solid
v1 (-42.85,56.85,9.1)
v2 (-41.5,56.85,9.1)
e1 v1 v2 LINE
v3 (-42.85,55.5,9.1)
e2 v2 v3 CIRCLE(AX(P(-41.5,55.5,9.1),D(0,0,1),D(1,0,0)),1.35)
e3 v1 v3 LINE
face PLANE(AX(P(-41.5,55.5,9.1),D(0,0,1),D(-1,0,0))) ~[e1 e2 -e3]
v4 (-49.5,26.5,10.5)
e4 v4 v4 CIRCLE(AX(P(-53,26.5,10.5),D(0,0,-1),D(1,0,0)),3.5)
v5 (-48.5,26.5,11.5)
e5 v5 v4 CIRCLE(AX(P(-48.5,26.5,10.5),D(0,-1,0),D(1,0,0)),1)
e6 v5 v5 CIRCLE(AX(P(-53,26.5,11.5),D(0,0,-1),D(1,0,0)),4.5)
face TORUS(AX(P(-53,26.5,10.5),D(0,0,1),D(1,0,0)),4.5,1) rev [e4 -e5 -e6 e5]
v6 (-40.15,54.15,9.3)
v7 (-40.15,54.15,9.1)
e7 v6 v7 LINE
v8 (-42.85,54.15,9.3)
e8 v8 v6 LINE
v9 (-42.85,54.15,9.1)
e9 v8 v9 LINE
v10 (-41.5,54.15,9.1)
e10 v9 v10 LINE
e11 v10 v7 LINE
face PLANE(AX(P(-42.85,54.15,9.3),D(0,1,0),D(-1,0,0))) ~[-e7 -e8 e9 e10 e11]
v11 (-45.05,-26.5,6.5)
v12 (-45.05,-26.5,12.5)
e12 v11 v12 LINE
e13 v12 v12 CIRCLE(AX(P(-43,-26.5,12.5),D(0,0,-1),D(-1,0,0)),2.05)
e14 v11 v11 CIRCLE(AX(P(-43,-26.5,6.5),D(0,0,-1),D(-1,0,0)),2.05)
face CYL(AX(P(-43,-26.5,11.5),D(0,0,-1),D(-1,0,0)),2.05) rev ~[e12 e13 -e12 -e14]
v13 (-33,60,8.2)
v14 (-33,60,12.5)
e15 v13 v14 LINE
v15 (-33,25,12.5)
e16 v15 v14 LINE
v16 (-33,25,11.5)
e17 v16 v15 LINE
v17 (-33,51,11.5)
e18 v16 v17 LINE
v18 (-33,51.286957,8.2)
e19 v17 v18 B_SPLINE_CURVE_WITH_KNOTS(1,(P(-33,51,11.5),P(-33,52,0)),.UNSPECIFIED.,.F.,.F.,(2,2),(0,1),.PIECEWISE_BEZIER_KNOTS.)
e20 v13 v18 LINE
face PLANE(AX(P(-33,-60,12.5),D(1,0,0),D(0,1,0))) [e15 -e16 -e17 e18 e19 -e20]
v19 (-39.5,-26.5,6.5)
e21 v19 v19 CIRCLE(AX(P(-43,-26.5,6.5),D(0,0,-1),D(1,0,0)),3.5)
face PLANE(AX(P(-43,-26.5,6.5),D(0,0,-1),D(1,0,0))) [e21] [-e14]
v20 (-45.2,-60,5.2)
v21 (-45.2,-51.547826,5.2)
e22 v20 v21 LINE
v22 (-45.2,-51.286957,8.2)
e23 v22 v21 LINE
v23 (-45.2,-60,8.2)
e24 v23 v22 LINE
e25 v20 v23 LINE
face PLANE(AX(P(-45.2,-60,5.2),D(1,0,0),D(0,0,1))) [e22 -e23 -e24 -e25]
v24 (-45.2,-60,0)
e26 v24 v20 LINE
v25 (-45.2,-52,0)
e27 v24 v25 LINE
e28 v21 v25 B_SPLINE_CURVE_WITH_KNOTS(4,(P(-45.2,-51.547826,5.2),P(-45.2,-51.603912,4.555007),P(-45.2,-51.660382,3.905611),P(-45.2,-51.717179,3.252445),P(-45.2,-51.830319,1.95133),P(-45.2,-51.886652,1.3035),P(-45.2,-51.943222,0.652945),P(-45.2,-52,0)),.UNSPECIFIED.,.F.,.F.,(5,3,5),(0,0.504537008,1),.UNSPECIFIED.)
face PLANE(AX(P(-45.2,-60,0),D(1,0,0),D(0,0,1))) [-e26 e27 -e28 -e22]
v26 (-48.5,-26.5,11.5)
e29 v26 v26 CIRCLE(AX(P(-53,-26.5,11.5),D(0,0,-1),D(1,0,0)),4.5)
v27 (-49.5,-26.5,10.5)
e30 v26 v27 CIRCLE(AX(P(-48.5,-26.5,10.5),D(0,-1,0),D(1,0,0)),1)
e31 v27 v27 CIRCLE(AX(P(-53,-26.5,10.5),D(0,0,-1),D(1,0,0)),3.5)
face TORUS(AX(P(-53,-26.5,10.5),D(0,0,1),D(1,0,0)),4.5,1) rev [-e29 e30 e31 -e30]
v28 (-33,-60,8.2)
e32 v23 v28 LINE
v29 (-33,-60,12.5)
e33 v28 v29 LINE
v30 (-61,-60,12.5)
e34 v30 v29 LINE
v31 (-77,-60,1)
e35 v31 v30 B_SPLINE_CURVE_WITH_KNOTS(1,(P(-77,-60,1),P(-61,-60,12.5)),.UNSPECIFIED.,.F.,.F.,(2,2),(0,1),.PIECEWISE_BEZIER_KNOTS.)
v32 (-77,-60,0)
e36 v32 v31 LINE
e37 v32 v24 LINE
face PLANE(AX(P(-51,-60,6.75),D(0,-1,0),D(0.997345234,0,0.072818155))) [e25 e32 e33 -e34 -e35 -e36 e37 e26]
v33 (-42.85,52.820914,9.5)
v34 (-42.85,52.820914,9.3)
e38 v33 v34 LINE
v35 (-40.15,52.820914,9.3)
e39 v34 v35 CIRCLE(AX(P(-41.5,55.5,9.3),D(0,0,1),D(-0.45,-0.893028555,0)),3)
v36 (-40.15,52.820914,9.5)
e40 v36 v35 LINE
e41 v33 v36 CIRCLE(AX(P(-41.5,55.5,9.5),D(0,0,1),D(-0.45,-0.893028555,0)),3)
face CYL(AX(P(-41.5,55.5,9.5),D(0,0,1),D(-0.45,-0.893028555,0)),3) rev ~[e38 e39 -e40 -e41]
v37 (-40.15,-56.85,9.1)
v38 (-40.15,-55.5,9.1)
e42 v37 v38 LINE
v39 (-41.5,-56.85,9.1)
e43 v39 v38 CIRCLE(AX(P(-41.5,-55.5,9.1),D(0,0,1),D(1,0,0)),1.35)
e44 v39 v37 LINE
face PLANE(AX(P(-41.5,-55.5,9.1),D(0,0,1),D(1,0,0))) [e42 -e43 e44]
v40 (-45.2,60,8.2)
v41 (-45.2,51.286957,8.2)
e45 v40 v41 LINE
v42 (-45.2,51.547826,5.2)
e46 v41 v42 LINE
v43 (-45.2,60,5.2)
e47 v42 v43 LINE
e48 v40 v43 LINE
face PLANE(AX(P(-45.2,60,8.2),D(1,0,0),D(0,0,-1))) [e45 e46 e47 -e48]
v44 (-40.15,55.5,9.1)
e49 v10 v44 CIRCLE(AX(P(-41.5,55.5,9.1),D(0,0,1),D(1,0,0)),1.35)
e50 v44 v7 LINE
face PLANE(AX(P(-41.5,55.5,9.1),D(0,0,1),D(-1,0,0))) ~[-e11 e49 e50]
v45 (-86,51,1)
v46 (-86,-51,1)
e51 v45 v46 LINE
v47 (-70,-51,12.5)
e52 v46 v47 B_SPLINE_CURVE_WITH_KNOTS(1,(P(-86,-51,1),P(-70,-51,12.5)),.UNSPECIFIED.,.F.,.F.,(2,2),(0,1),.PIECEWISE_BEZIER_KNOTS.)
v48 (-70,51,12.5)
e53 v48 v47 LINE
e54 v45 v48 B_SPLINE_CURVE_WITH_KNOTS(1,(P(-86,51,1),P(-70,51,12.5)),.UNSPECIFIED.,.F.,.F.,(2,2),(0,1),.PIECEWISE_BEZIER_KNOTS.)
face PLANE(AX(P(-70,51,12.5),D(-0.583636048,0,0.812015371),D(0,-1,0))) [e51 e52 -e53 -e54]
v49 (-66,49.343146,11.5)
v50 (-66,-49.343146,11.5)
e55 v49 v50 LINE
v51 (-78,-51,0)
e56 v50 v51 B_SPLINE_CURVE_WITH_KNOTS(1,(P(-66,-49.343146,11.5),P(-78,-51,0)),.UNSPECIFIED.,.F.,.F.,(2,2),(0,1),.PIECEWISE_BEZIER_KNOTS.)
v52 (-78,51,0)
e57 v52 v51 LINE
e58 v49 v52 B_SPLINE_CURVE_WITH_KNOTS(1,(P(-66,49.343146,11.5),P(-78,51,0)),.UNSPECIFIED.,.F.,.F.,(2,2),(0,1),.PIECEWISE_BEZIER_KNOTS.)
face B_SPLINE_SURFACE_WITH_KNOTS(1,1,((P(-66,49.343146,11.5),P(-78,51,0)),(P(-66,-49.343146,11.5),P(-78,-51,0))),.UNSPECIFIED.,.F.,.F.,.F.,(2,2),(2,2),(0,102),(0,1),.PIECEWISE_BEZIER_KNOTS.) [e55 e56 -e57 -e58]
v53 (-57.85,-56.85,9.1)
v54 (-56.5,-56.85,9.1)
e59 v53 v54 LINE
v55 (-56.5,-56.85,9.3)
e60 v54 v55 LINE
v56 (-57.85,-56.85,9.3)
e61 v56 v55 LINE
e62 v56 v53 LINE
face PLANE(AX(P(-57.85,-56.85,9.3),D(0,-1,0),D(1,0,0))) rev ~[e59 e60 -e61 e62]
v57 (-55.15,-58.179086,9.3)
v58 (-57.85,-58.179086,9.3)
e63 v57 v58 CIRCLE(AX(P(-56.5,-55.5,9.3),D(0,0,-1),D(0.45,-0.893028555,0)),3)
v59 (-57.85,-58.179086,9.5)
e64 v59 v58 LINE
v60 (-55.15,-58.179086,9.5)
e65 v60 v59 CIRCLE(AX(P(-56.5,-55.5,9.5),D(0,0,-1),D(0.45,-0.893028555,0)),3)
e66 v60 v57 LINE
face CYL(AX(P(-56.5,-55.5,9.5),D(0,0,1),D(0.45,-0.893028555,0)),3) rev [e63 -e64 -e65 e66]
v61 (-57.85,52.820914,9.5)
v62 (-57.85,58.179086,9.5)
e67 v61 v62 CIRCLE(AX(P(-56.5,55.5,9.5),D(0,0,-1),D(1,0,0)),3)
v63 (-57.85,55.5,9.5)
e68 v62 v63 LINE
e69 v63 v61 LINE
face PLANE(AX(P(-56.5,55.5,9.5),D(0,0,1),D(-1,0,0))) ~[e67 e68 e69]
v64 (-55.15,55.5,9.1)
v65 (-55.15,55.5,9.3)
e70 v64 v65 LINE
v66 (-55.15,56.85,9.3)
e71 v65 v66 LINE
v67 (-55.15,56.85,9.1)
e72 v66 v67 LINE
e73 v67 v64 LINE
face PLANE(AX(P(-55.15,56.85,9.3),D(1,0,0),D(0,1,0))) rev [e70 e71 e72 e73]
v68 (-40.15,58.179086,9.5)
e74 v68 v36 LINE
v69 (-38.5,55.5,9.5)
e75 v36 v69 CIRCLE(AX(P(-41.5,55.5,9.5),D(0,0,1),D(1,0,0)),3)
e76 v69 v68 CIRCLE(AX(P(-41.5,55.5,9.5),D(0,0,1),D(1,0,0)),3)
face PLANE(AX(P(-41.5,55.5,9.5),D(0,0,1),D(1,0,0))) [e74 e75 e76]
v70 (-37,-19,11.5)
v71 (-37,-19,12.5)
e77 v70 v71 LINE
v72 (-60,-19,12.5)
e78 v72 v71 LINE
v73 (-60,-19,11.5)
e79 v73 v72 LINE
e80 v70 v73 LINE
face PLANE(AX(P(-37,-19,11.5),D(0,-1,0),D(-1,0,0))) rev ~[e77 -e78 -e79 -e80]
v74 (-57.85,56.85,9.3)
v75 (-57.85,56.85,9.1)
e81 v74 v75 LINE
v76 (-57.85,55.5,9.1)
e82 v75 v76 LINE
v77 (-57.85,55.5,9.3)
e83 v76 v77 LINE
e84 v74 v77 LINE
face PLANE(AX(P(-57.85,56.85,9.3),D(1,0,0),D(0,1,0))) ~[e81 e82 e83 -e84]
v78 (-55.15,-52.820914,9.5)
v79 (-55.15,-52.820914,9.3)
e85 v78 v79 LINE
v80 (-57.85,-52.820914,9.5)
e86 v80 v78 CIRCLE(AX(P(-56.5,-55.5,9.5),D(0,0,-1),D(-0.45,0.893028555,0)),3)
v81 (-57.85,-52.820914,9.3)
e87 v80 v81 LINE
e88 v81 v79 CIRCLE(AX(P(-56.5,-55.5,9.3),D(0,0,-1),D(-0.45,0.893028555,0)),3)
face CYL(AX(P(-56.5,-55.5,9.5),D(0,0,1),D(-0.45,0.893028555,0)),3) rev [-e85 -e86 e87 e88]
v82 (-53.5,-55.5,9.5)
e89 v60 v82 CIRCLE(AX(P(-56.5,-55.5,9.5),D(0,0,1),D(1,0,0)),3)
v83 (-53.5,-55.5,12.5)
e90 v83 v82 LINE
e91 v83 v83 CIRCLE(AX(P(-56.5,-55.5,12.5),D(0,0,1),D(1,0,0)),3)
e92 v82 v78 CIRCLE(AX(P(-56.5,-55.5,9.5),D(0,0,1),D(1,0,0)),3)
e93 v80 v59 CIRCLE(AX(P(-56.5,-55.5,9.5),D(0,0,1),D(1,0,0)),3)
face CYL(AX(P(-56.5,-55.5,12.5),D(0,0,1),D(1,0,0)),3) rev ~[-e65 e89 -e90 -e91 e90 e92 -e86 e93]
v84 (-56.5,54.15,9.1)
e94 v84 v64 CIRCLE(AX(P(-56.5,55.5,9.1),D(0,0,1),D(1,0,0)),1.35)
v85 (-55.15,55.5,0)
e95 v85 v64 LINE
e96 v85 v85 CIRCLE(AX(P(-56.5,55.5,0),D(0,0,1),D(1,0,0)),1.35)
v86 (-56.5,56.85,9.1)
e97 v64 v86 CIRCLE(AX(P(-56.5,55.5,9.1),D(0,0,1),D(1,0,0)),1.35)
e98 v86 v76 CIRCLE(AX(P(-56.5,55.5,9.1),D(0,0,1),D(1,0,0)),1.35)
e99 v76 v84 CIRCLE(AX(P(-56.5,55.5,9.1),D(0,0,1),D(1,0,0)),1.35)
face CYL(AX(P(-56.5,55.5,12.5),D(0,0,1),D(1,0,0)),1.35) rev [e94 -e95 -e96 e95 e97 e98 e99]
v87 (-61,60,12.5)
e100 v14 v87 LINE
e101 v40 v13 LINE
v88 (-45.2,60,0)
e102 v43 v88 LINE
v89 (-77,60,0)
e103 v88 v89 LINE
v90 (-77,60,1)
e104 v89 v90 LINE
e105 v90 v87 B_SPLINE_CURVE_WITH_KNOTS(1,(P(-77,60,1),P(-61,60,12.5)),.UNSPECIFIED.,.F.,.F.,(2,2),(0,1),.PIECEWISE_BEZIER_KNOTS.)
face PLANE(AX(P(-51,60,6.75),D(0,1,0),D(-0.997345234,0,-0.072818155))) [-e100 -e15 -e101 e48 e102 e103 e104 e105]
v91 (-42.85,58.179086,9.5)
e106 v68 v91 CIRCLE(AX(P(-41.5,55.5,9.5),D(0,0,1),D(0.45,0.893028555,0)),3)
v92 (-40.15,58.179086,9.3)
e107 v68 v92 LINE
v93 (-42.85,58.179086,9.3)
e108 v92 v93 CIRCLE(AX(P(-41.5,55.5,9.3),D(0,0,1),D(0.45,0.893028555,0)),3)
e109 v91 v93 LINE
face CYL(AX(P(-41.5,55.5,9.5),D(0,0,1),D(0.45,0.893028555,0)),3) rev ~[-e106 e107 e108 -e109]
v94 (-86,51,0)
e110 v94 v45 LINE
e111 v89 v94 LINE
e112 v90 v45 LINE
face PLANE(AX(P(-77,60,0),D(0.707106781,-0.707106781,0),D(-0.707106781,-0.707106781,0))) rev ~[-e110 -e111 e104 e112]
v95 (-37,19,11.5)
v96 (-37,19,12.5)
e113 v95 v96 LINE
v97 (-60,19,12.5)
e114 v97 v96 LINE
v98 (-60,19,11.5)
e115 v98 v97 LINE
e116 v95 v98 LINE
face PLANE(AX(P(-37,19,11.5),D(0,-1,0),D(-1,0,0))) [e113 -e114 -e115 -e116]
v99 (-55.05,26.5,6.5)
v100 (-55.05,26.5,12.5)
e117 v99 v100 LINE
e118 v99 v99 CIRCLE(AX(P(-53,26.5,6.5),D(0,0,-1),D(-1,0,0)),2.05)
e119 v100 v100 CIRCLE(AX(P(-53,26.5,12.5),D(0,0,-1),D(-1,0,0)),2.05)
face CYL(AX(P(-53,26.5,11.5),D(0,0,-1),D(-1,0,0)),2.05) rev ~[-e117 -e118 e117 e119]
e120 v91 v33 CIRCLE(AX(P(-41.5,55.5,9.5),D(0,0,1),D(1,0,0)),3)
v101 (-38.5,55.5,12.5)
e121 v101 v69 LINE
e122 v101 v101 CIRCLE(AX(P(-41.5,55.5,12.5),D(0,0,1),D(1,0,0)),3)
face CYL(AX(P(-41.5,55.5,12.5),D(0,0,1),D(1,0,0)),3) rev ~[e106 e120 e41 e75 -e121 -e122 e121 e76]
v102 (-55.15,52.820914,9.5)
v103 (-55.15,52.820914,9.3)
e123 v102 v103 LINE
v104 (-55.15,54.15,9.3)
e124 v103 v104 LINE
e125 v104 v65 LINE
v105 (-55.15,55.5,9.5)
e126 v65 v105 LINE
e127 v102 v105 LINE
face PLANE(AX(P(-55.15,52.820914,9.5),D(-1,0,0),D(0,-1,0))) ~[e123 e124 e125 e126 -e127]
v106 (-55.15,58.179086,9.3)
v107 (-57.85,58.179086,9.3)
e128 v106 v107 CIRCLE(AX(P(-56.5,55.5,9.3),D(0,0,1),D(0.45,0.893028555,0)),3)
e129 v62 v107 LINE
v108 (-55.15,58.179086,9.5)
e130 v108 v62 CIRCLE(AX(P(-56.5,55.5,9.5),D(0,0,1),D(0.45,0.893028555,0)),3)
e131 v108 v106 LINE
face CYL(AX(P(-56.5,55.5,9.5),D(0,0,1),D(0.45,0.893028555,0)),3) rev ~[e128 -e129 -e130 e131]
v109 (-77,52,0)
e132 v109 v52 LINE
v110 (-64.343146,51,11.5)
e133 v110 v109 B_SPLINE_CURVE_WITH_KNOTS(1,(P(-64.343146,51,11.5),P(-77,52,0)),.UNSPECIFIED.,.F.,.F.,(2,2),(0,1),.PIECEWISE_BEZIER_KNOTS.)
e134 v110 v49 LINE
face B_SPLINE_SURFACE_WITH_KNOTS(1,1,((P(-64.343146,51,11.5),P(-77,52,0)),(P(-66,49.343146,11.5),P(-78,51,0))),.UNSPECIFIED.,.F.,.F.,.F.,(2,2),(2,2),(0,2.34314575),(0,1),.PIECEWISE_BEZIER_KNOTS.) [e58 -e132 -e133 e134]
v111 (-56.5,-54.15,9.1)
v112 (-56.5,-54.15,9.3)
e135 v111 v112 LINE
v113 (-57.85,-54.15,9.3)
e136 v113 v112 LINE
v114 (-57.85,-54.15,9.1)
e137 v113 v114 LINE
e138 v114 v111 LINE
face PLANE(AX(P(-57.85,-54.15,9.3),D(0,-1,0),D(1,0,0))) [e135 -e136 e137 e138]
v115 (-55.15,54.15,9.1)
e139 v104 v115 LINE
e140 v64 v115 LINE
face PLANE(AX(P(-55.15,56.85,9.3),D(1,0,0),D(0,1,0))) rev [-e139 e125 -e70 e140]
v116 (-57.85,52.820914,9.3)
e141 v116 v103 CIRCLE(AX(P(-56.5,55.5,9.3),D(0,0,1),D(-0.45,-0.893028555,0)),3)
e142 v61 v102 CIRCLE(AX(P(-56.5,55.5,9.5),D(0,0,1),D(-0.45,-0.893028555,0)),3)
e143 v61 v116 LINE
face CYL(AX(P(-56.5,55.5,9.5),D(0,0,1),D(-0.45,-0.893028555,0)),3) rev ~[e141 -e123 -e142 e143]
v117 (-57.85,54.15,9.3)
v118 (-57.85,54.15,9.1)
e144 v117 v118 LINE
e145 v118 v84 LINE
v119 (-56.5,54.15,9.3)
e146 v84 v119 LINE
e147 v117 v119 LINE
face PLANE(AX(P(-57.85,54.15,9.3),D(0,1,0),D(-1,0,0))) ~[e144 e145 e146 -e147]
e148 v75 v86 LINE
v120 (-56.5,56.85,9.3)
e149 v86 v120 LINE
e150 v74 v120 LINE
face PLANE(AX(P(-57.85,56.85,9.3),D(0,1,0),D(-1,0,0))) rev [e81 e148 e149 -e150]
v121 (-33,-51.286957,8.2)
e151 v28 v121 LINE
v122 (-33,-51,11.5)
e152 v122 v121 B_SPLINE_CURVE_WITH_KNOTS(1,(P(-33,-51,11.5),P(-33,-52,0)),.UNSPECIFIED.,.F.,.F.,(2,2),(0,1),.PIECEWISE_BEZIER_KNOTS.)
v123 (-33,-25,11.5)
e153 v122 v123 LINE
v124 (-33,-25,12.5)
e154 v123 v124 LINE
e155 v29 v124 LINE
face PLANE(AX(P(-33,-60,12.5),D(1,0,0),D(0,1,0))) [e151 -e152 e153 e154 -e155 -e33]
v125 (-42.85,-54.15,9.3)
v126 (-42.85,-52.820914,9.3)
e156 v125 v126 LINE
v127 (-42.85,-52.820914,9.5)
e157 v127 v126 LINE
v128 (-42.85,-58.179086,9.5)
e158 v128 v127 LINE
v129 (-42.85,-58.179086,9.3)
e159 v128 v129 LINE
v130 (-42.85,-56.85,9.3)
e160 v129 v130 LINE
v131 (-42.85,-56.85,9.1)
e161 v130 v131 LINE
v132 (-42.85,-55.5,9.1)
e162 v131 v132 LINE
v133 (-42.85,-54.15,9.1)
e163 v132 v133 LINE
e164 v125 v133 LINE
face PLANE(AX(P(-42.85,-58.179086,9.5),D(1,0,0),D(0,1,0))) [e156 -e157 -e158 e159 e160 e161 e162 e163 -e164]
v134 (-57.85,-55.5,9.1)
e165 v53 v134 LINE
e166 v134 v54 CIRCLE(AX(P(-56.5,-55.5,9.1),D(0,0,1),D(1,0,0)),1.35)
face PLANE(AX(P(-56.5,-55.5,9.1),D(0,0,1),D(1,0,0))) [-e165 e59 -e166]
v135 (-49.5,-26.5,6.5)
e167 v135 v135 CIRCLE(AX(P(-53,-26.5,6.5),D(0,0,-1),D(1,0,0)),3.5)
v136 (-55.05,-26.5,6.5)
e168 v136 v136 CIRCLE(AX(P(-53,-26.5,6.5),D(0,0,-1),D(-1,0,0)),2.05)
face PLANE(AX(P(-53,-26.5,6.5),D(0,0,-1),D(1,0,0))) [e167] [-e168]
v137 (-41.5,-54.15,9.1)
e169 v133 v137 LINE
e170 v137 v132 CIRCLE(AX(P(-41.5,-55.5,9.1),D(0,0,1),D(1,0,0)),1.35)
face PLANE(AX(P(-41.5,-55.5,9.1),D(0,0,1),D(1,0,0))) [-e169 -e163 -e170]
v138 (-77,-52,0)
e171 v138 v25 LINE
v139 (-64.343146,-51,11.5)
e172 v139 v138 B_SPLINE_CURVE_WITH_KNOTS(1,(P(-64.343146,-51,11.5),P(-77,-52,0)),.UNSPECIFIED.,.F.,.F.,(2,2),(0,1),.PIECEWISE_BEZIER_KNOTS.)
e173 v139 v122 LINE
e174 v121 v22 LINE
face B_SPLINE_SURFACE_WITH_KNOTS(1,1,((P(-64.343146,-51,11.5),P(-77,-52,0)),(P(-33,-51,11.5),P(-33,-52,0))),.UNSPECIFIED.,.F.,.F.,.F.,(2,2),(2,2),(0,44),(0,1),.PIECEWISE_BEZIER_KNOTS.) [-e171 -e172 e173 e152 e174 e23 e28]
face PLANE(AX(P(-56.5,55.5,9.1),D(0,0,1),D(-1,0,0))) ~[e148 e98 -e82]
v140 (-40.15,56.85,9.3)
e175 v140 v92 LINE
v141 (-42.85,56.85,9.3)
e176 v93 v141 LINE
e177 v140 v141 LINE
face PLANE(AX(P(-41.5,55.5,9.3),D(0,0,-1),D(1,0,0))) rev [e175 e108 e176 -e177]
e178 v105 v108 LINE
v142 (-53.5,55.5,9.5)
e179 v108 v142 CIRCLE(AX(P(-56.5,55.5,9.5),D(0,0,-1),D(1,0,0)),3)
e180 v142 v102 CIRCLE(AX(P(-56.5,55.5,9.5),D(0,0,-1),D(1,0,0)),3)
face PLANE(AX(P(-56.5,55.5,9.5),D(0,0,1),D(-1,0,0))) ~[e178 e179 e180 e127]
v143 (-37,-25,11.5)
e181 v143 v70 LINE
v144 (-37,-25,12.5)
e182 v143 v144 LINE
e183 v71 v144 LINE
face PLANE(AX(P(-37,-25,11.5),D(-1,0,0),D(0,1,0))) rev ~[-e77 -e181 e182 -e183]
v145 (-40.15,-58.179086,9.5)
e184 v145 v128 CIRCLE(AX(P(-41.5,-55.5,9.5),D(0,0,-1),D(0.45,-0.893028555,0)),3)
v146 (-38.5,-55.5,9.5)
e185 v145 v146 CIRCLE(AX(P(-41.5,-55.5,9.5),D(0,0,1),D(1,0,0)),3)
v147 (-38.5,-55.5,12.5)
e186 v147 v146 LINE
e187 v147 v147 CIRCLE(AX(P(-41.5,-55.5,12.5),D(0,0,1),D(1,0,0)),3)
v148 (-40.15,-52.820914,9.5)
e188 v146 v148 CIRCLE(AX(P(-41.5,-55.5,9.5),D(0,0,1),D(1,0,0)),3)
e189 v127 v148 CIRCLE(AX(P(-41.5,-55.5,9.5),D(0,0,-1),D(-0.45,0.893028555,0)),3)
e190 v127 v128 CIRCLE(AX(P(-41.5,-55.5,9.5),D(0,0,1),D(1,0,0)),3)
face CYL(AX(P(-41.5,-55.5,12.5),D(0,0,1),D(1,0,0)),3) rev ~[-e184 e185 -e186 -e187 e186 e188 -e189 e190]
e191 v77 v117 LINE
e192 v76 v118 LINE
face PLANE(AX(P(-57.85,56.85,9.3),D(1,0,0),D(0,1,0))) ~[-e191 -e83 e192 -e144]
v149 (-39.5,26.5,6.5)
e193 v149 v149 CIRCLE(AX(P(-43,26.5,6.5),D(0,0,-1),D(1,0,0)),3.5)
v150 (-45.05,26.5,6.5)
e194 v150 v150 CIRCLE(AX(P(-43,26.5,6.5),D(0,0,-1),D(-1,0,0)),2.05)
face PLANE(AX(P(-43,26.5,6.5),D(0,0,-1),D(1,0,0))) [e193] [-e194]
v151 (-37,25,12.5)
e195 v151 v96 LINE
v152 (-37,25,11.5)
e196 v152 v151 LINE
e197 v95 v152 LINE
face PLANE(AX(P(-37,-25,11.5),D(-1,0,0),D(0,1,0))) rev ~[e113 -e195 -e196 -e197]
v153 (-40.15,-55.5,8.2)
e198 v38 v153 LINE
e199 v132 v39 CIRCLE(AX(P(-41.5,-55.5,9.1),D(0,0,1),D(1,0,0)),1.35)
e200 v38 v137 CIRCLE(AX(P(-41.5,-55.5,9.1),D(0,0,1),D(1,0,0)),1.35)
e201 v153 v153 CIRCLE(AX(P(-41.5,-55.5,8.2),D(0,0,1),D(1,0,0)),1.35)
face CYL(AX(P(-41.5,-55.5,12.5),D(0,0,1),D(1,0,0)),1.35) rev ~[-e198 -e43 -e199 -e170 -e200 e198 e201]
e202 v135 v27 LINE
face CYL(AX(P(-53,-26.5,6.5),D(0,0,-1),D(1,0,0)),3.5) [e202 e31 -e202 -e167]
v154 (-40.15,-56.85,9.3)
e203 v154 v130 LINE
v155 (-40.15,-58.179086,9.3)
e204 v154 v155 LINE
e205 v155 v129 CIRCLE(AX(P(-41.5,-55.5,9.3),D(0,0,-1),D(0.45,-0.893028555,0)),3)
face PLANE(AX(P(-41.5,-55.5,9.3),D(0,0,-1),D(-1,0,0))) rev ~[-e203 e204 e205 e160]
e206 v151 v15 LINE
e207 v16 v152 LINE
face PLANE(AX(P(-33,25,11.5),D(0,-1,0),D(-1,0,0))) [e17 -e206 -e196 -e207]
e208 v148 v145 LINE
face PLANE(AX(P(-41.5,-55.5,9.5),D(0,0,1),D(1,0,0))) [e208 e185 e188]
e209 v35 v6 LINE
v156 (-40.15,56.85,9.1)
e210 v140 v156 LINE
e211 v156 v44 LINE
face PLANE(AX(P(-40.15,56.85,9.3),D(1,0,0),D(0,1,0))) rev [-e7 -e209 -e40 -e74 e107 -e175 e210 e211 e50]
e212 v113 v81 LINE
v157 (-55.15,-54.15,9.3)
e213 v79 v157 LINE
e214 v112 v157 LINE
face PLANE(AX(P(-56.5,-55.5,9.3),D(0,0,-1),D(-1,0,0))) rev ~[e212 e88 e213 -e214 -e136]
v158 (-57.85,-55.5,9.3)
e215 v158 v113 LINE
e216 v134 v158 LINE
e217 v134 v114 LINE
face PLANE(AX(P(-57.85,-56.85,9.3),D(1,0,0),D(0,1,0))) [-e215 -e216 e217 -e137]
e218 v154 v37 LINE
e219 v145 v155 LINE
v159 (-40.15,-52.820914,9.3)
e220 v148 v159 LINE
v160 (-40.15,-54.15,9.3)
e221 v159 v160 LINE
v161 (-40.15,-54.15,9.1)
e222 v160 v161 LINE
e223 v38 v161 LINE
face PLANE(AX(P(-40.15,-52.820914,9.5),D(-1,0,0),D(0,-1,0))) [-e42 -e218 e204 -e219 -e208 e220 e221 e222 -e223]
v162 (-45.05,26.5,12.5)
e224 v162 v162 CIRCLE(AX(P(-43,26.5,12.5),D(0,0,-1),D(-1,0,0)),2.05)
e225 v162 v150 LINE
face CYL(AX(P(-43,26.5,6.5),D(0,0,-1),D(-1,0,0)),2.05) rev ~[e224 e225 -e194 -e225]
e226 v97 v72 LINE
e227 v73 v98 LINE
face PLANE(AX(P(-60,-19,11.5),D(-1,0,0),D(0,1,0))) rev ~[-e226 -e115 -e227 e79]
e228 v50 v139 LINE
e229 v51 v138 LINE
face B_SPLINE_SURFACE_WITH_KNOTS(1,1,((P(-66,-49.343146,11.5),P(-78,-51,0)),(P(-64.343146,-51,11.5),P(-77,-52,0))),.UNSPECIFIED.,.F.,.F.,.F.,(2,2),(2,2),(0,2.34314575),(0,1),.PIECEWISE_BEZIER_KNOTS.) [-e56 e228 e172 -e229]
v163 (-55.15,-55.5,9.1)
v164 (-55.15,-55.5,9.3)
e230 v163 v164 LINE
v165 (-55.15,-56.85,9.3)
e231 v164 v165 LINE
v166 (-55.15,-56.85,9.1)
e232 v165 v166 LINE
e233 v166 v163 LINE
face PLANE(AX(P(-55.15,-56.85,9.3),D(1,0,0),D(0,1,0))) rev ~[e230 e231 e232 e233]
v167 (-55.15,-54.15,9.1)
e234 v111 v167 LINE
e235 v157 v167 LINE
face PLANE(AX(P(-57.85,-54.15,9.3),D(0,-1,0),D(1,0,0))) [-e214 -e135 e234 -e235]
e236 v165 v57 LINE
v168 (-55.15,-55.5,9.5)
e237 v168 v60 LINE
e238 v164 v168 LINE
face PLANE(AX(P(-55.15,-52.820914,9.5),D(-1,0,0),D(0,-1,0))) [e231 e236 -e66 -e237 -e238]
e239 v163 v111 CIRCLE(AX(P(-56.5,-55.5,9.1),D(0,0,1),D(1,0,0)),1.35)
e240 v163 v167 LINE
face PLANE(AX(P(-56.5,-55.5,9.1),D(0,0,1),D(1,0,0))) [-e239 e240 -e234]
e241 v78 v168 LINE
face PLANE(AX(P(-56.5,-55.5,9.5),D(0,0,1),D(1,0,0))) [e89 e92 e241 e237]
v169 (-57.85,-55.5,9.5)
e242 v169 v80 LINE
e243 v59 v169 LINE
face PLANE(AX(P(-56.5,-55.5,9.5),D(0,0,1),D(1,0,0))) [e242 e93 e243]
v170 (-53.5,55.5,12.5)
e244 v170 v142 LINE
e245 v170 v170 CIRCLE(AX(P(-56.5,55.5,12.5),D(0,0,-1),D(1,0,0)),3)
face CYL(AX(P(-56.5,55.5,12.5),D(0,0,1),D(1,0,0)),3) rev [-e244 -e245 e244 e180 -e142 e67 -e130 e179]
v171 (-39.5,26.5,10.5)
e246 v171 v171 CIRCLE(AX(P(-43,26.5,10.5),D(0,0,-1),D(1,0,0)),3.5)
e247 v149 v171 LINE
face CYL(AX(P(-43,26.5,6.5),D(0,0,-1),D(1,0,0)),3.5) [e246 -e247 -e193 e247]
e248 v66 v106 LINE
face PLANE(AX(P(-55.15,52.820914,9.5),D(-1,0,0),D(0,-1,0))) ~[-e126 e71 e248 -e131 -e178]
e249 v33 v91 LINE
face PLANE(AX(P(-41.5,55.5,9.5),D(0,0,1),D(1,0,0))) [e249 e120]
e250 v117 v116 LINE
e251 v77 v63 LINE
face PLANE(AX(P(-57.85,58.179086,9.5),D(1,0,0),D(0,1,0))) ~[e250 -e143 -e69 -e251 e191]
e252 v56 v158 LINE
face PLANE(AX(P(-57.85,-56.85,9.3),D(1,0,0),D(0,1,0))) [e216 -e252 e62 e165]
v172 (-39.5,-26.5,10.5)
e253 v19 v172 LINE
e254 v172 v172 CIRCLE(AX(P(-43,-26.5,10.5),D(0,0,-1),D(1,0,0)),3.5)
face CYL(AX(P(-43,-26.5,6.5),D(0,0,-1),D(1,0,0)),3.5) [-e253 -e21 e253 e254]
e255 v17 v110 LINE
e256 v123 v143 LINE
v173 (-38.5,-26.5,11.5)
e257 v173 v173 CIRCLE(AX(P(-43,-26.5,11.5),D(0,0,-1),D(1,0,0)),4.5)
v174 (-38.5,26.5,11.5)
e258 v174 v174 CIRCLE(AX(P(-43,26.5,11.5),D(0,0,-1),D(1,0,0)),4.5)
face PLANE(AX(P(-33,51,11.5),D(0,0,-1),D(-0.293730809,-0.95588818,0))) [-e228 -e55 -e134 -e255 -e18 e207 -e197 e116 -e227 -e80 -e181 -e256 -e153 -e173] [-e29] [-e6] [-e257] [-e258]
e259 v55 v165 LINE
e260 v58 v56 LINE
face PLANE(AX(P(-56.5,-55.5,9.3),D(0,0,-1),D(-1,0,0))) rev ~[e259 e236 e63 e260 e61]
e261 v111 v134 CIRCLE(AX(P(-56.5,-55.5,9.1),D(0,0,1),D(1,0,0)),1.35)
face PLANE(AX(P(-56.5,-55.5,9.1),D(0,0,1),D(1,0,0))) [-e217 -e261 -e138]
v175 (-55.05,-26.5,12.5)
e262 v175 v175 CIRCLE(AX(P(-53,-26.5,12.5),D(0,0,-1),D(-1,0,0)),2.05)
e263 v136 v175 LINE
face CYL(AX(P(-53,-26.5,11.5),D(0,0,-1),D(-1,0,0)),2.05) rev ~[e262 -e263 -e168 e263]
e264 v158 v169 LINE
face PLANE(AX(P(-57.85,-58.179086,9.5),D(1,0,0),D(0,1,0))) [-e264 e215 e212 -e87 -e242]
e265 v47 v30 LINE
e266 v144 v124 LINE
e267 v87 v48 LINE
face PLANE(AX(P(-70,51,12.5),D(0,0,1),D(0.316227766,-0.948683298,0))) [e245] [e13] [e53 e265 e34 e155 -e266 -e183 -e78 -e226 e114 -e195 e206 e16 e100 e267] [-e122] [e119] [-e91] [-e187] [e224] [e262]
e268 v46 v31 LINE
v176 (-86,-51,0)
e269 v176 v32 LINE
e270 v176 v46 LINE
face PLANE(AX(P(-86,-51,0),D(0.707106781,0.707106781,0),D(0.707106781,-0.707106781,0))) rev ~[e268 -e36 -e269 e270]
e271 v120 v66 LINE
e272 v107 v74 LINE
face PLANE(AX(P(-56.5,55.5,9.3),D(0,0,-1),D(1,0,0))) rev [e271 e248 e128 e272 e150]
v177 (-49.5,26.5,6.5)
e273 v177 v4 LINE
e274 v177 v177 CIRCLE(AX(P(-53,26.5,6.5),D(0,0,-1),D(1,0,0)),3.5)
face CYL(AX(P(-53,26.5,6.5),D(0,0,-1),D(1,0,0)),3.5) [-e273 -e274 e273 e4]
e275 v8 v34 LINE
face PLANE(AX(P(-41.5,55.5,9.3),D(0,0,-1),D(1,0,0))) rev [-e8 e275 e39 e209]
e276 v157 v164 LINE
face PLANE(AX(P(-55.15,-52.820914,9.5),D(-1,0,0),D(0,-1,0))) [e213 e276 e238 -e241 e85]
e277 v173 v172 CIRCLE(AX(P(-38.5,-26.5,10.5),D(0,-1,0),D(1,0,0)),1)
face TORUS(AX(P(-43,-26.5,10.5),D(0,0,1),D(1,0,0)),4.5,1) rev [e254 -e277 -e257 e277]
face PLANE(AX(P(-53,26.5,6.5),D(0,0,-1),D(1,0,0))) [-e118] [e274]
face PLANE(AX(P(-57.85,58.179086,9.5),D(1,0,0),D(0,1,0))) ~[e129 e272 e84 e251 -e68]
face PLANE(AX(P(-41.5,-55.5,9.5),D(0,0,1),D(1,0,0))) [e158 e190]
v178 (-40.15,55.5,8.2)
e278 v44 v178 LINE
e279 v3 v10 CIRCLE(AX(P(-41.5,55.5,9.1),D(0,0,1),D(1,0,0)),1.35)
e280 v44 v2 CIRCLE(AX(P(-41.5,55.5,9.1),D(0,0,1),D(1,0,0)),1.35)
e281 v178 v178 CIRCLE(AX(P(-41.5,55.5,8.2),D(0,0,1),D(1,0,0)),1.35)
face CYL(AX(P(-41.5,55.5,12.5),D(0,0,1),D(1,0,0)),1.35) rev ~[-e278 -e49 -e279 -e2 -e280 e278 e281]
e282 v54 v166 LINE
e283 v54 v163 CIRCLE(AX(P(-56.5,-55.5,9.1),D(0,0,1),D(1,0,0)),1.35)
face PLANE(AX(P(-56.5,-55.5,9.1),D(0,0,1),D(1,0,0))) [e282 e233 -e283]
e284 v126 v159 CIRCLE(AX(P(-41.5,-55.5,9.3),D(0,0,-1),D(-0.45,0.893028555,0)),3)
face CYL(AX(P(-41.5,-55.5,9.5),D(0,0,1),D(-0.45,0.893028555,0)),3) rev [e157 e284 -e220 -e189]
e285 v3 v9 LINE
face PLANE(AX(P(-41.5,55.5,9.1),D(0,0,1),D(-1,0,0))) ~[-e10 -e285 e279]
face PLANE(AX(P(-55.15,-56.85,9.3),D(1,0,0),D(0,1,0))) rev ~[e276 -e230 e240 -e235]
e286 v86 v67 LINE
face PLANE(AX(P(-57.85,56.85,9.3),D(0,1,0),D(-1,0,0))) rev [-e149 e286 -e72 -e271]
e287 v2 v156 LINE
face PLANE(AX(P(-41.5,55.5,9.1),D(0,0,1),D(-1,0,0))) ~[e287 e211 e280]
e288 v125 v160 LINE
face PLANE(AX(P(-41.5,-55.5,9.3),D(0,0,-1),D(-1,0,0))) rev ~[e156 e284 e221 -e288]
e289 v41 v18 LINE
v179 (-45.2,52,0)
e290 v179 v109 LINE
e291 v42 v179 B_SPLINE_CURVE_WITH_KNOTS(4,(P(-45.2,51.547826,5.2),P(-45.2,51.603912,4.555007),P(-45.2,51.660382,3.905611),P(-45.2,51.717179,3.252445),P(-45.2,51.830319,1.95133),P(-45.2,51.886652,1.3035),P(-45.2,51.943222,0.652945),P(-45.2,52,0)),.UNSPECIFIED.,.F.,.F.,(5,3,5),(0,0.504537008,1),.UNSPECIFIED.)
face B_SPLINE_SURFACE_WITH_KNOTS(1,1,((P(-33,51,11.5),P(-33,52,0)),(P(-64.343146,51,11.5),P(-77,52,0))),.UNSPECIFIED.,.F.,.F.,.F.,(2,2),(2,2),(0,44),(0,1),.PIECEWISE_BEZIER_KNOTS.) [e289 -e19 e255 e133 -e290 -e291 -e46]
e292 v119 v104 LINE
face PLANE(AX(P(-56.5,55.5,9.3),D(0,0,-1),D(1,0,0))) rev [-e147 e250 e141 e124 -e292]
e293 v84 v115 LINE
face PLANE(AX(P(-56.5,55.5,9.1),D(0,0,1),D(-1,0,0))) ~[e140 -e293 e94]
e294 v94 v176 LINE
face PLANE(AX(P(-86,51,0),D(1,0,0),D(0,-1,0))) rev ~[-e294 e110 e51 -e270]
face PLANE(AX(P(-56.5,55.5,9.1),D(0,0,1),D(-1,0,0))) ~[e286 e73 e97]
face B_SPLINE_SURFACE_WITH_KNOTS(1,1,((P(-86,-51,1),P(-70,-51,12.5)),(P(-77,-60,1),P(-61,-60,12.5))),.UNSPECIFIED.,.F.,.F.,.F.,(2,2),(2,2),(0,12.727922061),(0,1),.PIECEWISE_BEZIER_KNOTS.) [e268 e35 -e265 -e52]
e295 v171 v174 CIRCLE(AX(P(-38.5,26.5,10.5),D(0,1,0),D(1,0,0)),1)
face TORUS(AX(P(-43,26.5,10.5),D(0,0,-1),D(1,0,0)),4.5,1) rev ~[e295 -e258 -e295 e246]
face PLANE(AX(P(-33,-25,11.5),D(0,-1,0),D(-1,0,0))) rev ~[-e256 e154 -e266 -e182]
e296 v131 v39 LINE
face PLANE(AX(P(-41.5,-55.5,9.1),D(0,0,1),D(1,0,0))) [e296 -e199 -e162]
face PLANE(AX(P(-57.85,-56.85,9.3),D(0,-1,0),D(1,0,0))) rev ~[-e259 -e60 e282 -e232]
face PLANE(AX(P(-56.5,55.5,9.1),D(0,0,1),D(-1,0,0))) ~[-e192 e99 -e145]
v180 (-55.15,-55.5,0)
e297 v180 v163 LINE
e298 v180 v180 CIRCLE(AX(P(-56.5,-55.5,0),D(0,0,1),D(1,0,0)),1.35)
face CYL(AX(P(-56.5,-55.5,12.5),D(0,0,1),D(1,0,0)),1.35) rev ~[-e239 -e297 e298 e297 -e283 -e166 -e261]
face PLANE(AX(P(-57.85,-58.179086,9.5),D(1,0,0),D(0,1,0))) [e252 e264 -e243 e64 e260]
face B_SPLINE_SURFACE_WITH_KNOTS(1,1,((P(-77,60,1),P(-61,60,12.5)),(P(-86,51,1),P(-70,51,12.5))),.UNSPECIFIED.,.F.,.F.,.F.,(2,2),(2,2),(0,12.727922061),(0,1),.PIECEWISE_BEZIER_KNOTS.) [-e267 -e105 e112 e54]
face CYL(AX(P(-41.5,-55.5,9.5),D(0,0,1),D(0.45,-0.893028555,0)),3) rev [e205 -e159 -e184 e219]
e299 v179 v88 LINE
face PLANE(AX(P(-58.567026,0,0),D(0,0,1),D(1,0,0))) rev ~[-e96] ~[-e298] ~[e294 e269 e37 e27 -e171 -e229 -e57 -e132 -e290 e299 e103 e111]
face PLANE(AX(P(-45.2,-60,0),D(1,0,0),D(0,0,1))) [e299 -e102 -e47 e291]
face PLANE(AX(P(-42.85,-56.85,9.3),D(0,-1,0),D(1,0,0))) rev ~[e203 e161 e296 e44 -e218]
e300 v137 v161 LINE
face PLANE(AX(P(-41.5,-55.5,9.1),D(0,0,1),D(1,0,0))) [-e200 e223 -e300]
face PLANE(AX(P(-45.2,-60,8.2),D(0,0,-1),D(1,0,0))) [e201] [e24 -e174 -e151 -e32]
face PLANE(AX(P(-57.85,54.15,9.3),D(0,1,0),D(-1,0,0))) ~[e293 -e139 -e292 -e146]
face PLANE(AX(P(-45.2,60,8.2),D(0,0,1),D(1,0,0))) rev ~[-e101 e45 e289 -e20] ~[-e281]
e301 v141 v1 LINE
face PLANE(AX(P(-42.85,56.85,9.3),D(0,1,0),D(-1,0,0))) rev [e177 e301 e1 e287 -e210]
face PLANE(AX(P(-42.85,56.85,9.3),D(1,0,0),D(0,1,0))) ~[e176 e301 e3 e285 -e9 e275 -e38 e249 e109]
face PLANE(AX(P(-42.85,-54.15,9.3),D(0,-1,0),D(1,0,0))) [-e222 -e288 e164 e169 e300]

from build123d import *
from build123d.topology import SkipClean

# Parameters (mm, degrees)
BOSS_EXTRUDE1_DEPTH = 1
SKETCH7_W           = 4
SKETCH7_H           = 50
CUT_EXTRUDE1_DEPTH  = 106.49052105
SKETCH8_W           = 12.2
SKETCH8_H           = 5.2
CUT_EXTRUDE2_DEPTH  = 149.162917235
SKETCH9_R           = 1.35
CUT_EXTRUDE3_DEPTH  = 106.604214081
SKETCH10_R          = 3
CUT_EXTRUDE4_DEPTH  = 3
CUT_EXTRUDE8_DEPTH  = 0.2
SKETCH15_W          = 2.7
SKETCH15_H          = 2.7
CUT_EXTRUDE9_DEPTH  = 0.2
SKETCH16_R          = 2.05
CUT_EXTRUDE10_DEPTH = 106.49052105
BOSS_EXTRUDE2_START = 5
SKETCH17_R          = 3.5
SKETCH17_R_2        = 2.05
BOSS_EXTRUDE2_DEPTH = 5
FILLET1_R           = 1
SKETCH18_W          = 5
SKETCH18_H          = 22
CUT_EXTRUDE11_DEPTH = 106.49052105
CUT_EXTRUDE12_REACH = 150.163
SKETCH19_W          = 12.2
SKETCH19_H          = 3
CUT_EXTRUDE13_REACH = 150.163
SKETCH20_W          = 12.2
SKETCH20_H          = 3
SKETCH23_R          = 1.35
CUT_EXTRUDE14_DEPTH = 106.604214081
SKETCH24_R          = 3
CUT_EXTRUDE15_DEPTH = 3
CUT_EXTRUDE16_DEPTH = 0.2
SKETCH26_W          = 2.7
SKETCH26_H          = 2.7
CUT_EXTRUDE17_DEPTH = 0.2
SKETCH27_W          = 23
SKETCH27_H          = 38
CUT_EXTRUDE18_DEPTH = 106.49052105


with BuildPart() as part:
    # Sketch2 → Boss-Extrude1 (new body)
    with BuildSketch(Plane.XY):
        Polygon((-86, -51), (-77, -60), (-33, -60), (-33, 60), (-77, 60), (-86, 51), align=None)
    extrude(amount=BOSS_EXTRUDE1_DEPTH)

    # Sketch4 → Loft1 section 0
    with BuildSketch(Plane.XY.offset(1)):
        with BuildLine():
            Line((-86, 51), (-86, -51))
            Line((-86, -51), (-77, -60))
            Line((-77, -60), (-33, -60))
            Line((-33, -60), (-33, 60))
            Line((-33, 60), (-77, 60))
            Line((-77, 60), (-86, 51))
        make_face()
    # Sketch3 → Loft1 section 1
    with BuildSketch(Plane.XY.offset(12.5)):
        with BuildLine():
            Line((-33, 60), (-61, 60))
            Line((-61, 60), (-70, 51))
            Line((-70, 51), (-70, -51))
            Line((-70, -51), (-61, -60))
            Line((-61, -60), (-33, -60))
            Line((-33, -60), (-33, 60))
        make_face()
    loft()

    # Sketch6 → Cut-Loft1 section 0
    with BuildSketch(Plane.XY.offset(11.5)):
        with BuildLine():
            Line((-33, 51), (-64.343145751, 51))
            Line((-64.343145751, 51), (-66, 49.343145751))
            Line((-66, 49.343145751), (-66, -49.343145751))
            Line((-66, -49.343145751), (-64.343145751, -51))
            Line((-64.343145751, -51), (-33, -51))
            Line((-33, -51), (-33, 51))
        make_face()
    # Sketch5 → Cut-Loft1 section 1
    with BuildSketch(Plane(origin=(0, 0, 0), x_dir=(-1, 0, 0), z_dir=(0, 0, -1))):
        with BuildLine():
            Line((33, 52), (77, 52))
            Line((77, 52), (78, 51))
            Line((78, 51), (78, -51))
            Line((78, -51), (77, -52))
            Line((77, -52), (33, -52))
            Line((33, -52), (33, 52))
        make_face()
    loft(mode=Mode.SUBTRACT)

    # Sketch7 → Cut-Extrude1 (cut, through all)
    with BuildSketch(Plane(origin=(0, 0, 11.5), x_dir=(-1, 0, 0), z_dir=(0, 0, -1))):
        with Locations((35, 0)):
            Rectangle(SKETCH7_W, SKETCH7_H)
    extrude(amount=-CUT_EXTRUDE1_DEPTH, mode=Mode.SUBTRACT)

    # Sketch8 → Cut-Extrude2 (cut, through all)
    with BuildSketch(Plane.XZ.offset(60)):
        with Locations((-39.1, 2.6)):
            Rectangle(SKETCH8_W, SKETCH8_H)
    extrude(amount=-CUT_EXTRUDE2_DEPTH, mode=Mode.SUBTRACT)

    # Sketch9 → Cut-Extrude3 (cut, through all)
    with BuildSketch(Plane.XY.offset(12.5)):
        with Locations((-41.5, 55.5)):
            Circle(SKETCH9_R)
        with Locations((-41.5, -55.5)):
            Circle(SKETCH9_R)
    extrude(amount=-CUT_EXTRUDE3_DEPTH, mode=Mode.SUBTRACT)

    # Sketch10 → Cut-Extrude4 (cut)
    with BuildSketch(Plane.XY.offset(12.5)):
        with Locations((-41.5, 55.5)):
            Circle(SKETCH10_R)
        with Locations((-41.5, -55.5)):
            Circle(SKETCH10_R)
    extrude(amount=-CUT_EXTRUDE4_DEPTH, mode=Mode.SUBTRACT)

    # Sketch14 → Cut-Extrude8 (cut)
    with SkipClean():  # the faces are left unmerged after this step: merging them gives an invalid solid
        with BuildSketch(Plane.XY.offset(9.5)):
            with BuildLine():
                Line((-42.85, -58.179085665), (-42.85, -52.820914335))
                ThreePointArc((-42.85, -52.820914335), (-41.5, -52.5), (-40.15, -52.820914335))
                Line((-40.15, -52.820914335), (-40.15, -58.179085665))
                ThreePointArc((-40.15, -58.179085665), (-41.5, -58.5), (-42.85, -58.179085665))
            make_face()
        cut_extrude8 = extrude(amount=-CUT_EXTRUDE8_DEPTH, mode=Mode.SUBTRACT)

    # Sketch15 → Cut-Extrude9 (cut)
    with SkipClean():  # the faces are left unmerged after this step: merging them gives an invalid solid
        with BuildSketch(Plane.XY.offset(9.3)):
            with Locations((-41.5, -55.5)):
                Rectangle(SKETCH15_W, SKETCH15_H)
        cut_extrude9 = extrude(amount=-CUT_EXTRUDE9_DEPTH, mode=Mode.SUBTRACT)

    # Mirror1: Cut-Extrude8, Cut-Extrude9 across plane
    with SkipClean():  # the faces are left unmerged after this step: merging them gives an invalid solid
        add(cut_extrude8.mirror(Plane.ZX), mode=Mode.SUBTRACT)
        add(cut_extrude9.mirror(Plane.ZX), mode=Mode.SUBTRACT)

    # Sketch16 → Cut-Extrude10 (cut, through all)
    with SkipClean():  # the faces are left unmerged after this step: merging them gives an invalid solid
        with BuildSketch(Plane(origin=(0, 0, 11.5), x_dir=(-1, 0, 0), z_dir=(0, 0, -1))):
            with Locations((43, 26.5)):
                Circle(SKETCH16_R)
            with Locations((53, 26.5)):
                Circle(SKETCH16_R)
            with Locations((53, -26.5)):
                Circle(SKETCH16_R)
            with Locations((43, -26.5)):
                Circle(SKETCH16_R)
        extrude(amount=-CUT_EXTRUDE10_DEPTH, mode=Mode.SUBTRACT)

    # Sketch17 → Boss-Extrude2 (add)
    # profile 1 of 4: a face of its own
    with SkipClean():  # the faces are left unmerged after this step: merging them gives an invalid solid
        with BuildSketch(Plane(origin=(0, 0, 11.5), x_dir=(-1, 0, 0), z_dir=(0, 0, -1)).offset(BOSS_EXTRUDE2_START)):
            with Locations(Location((43, 26.5, 0), (0, 0, 180))):
                Circle(SKETCH17_R)
            with Locations((43, 26.5)):
                Circle(SKETCH17_R_2, mode=Mode.SUBTRACT)
        # profile 2 of 4: a face of its own
        with BuildSketch(Plane(origin=(0, 0, 11.5), x_dir=(-1, 0, 0), z_dir=(0, 0, -1)).offset(BOSS_EXTRUDE2_START)):
            with Locations(Location((53, 26.5, 0), (0, 0, 180))):
                Circle(SKETCH17_R)
            with Locations((53, 26.5)):
                Circle(SKETCH17_R_2, mode=Mode.SUBTRACT)
        # profile 3 of 4: a face of its own
        with BuildSketch(Plane(origin=(0, 0, 11.5), x_dir=(-1, 0, 0), z_dir=(0, 0, -1)).offset(BOSS_EXTRUDE2_START)):
            with Locations(Location((53, -26.5, 0), (0, 0, 180))):
                Circle(SKETCH17_R)
            with Locations((53, -26.5)):
                Circle(SKETCH17_R_2, mode=Mode.SUBTRACT)
        # profile 4 of 4: a face of its own
        with BuildSketch(Plane(origin=(0, 0, 11.5), x_dir=(-1, 0, 0), z_dir=(0, 0, -1)).offset(BOSS_EXTRUDE2_START)):
            with Locations(Location((43, -26.5, 0), (0, 0, 180))):
                Circle(SKETCH17_R)
            with Locations((43, -26.5)):
                Circle(SKETCH17_R_2, mode=Mode.SUBTRACT)
        extrude(amount=-BOSS_EXTRUDE2_DEPTH)

    # Fillet1
    fillet1_edges = [part.edges().sort_by_distance(p)[0] for p in [
        (-46.5, 26.5, 11.5),
        (-56.5, 26.5, 11.5),
        (-56.5, -26.5, 11.5),
        (-46.5, -26.5, 11.5),
    ]]
    fillet(fillet1_edges, radius=FILLET1_R)

    # Sketch18 → Cut-Extrude11 (cut, through all)
    with SkipClean():  # the faces are left unmerged after this step: merging them gives an invalid solid
        with BuildSketch(Plane(origin=(0, 0, 11.5), x_dir=(-1, 0, 0), z_dir=(0, 0, -1))):
            with Locations((39.5, 0)):
                Rectangle(SKETCH18_W, SKETCH18_H)
        extrude(amount=-CUT_EXTRUDE11_DEPTH, mode=Mode.SUBTRACT)

    # Cut-Extrude12: up to this plane
    with SkipClean():  # the faces are left unmerged after this step: merging them gives an invalid solid
        cut_extrude12_end = Plane(origin=(0, 51.609756098, 4.487804878), z_dir=(0, -0.9962405881956831, -0.08662961636484208))
        # Sketch19 → Cut-Extrude12 (cut, up to the surface)
        with BuildSketch(Plane(origin=(0, 60, 0), x_dir=(1, 0, 0), z_dir=(0, 1, 0)), mode=Mode.PRIVATE) as cut_extrude12_sk1:
            with Locations((-39.1, -6.7)):
                Rectangle(SKETCH19_W, SKETCH19_H)
        cut_extrude12_tool1 = split(extrude(cut_extrude12_sk1.sketch, amount=-CUT_EXTRUDE12_REACH, mode=Mode.PRIVATE), bisect_by=cut_extrude12_end, keep=Keep.BOTH, mode=Mode.PRIVATE)
        add(cut_extrude12_tool1.solids().sort_by_distance((-39.1, 60, 6.7))[0], mode=Mode.SUBTRACT)

    # Cut-Extrude13: up to this plane
    with SkipClean():  # the faces are left unmerged after this step: merging them gives an invalid solid
        cut_extrude13_end = Plane(origin=(0, -51.609756098, 4.487804878), z_dir=(0, -0.9962405881956831, 0.0866296163648415))
        # Sketch20 → Cut-Extrude13 (cut, up to the surface)
        with BuildSketch(Plane.XZ.offset(60), mode=Mode.PRIVATE) as cut_extrude13_sk1:
            with Locations((-39.1, 6.7)):
                Rectangle(SKETCH20_W, SKETCH20_H)
        cut_extrude13_tool1 = split(extrude(cut_extrude13_sk1.sketch, amount=-CUT_EXTRUDE13_REACH, mode=Mode.PRIVATE), bisect_by=cut_extrude13_end, keep=Keep.BOTH, mode=Mode.PRIVATE)
        add(cut_extrude13_tool1.solids().sort_by_distance((-39.1, -60, 6.7))[0], mode=Mode.SUBTRACT)

    # Sketch23 → Cut-Extrude14 (cut, symmetric)
    with SkipClean():  # the faces are left unmerged after this step: merging them gives an invalid solid
        with BuildSketch(Plane.XY.offset(12.5)):
            with Locations((-56.5, -55.5)):
                Circle(SKETCH23_R)
        cut_extrude14 = extrude(amount=CUT_EXTRUDE14_DEPTH, both=True, mode=Mode.SUBTRACT)

    # Sketch24 → Cut-Extrude15 (cut)
    with SkipClean():  # the faces are left unmerged after this step: merging them gives an invalid solid
        with BuildSketch(Plane.XY.offset(12.5)):
            with Locations((-56.5, -55.5)):
                Circle(SKETCH24_R)
        cut_extrude15 = extrude(amount=-CUT_EXTRUDE15_DEPTH, mode=Mode.SUBTRACT)

    # Sketch25 → Cut-Extrude16 (cut)
    with SkipClean():  # the faces are left unmerged after this step: merging them gives an invalid solid
        with BuildSketch(Plane.XY.offset(9.5)):
            with BuildLine():
                Line((-57.85, -58.179085665), (-57.85, -52.820914335))
                ThreePointArc((-57.85, -52.820914335), (-56.5, -52.5), (-55.15, -52.820914335))
                Line((-55.15, -52.820914335), (-55.15, -58.179085665))
                ThreePointArc((-55.15, -58.179085665), (-56.5, -58.5), (-57.85, -58.179085665))
            make_face()
        cut_extrude16 = extrude(amount=-CUT_EXTRUDE16_DEPTH, mode=Mode.SUBTRACT)

    # Sketch26 → Cut-Extrude17 (cut)
    with SkipClean():  # the faces are left unmerged after this step: merging them gives an invalid solid
        with BuildSketch(Plane.XY.offset(9.3)):
            with Locations((-56.5, -55.5)):
                Rectangle(SKETCH26_W, SKETCH26_H)
        cut_extrude17 = extrude(amount=-CUT_EXTRUDE17_DEPTH, mode=Mode.SUBTRACT)

    # Mirror2: Cut-Extrude14, Cut-Extrude15, Cut-Extrude16, Cut-Extrude17 across plane
    with SkipClean():  # the faces are left unmerged after this step: merging them gives an invalid solid
        add(cut_extrude14.mirror(Plane.ZX), mode=Mode.SUBTRACT)
        add(cut_extrude15.mirror(Plane.ZX), mode=Mode.SUBTRACT)
        add(cut_extrude16.mirror(Plane.ZX), mode=Mode.SUBTRACT)
        add(cut_extrude17.mirror(Plane.ZX), mode=Mode.SUBTRACT)

    # Sketch27 → Cut-Extrude18 (cut, through all)
    with SkipClean():  # the faces are left unmerged after this step: merging them gives an invalid solid
        with BuildSketch(Plane(origin=(0, 0, 11.5), x_dir=(-1, 0, 0), z_dir=(0, 0, -1))):
            with Locations((48.5, 0)):
                Rectangle(SKETCH27_W, SKETCH27_H)
        extrude(amount=-CUT_EXTRUDE18_DEPTH, mode=Mode.SUBTRACT)


solid = part.part
